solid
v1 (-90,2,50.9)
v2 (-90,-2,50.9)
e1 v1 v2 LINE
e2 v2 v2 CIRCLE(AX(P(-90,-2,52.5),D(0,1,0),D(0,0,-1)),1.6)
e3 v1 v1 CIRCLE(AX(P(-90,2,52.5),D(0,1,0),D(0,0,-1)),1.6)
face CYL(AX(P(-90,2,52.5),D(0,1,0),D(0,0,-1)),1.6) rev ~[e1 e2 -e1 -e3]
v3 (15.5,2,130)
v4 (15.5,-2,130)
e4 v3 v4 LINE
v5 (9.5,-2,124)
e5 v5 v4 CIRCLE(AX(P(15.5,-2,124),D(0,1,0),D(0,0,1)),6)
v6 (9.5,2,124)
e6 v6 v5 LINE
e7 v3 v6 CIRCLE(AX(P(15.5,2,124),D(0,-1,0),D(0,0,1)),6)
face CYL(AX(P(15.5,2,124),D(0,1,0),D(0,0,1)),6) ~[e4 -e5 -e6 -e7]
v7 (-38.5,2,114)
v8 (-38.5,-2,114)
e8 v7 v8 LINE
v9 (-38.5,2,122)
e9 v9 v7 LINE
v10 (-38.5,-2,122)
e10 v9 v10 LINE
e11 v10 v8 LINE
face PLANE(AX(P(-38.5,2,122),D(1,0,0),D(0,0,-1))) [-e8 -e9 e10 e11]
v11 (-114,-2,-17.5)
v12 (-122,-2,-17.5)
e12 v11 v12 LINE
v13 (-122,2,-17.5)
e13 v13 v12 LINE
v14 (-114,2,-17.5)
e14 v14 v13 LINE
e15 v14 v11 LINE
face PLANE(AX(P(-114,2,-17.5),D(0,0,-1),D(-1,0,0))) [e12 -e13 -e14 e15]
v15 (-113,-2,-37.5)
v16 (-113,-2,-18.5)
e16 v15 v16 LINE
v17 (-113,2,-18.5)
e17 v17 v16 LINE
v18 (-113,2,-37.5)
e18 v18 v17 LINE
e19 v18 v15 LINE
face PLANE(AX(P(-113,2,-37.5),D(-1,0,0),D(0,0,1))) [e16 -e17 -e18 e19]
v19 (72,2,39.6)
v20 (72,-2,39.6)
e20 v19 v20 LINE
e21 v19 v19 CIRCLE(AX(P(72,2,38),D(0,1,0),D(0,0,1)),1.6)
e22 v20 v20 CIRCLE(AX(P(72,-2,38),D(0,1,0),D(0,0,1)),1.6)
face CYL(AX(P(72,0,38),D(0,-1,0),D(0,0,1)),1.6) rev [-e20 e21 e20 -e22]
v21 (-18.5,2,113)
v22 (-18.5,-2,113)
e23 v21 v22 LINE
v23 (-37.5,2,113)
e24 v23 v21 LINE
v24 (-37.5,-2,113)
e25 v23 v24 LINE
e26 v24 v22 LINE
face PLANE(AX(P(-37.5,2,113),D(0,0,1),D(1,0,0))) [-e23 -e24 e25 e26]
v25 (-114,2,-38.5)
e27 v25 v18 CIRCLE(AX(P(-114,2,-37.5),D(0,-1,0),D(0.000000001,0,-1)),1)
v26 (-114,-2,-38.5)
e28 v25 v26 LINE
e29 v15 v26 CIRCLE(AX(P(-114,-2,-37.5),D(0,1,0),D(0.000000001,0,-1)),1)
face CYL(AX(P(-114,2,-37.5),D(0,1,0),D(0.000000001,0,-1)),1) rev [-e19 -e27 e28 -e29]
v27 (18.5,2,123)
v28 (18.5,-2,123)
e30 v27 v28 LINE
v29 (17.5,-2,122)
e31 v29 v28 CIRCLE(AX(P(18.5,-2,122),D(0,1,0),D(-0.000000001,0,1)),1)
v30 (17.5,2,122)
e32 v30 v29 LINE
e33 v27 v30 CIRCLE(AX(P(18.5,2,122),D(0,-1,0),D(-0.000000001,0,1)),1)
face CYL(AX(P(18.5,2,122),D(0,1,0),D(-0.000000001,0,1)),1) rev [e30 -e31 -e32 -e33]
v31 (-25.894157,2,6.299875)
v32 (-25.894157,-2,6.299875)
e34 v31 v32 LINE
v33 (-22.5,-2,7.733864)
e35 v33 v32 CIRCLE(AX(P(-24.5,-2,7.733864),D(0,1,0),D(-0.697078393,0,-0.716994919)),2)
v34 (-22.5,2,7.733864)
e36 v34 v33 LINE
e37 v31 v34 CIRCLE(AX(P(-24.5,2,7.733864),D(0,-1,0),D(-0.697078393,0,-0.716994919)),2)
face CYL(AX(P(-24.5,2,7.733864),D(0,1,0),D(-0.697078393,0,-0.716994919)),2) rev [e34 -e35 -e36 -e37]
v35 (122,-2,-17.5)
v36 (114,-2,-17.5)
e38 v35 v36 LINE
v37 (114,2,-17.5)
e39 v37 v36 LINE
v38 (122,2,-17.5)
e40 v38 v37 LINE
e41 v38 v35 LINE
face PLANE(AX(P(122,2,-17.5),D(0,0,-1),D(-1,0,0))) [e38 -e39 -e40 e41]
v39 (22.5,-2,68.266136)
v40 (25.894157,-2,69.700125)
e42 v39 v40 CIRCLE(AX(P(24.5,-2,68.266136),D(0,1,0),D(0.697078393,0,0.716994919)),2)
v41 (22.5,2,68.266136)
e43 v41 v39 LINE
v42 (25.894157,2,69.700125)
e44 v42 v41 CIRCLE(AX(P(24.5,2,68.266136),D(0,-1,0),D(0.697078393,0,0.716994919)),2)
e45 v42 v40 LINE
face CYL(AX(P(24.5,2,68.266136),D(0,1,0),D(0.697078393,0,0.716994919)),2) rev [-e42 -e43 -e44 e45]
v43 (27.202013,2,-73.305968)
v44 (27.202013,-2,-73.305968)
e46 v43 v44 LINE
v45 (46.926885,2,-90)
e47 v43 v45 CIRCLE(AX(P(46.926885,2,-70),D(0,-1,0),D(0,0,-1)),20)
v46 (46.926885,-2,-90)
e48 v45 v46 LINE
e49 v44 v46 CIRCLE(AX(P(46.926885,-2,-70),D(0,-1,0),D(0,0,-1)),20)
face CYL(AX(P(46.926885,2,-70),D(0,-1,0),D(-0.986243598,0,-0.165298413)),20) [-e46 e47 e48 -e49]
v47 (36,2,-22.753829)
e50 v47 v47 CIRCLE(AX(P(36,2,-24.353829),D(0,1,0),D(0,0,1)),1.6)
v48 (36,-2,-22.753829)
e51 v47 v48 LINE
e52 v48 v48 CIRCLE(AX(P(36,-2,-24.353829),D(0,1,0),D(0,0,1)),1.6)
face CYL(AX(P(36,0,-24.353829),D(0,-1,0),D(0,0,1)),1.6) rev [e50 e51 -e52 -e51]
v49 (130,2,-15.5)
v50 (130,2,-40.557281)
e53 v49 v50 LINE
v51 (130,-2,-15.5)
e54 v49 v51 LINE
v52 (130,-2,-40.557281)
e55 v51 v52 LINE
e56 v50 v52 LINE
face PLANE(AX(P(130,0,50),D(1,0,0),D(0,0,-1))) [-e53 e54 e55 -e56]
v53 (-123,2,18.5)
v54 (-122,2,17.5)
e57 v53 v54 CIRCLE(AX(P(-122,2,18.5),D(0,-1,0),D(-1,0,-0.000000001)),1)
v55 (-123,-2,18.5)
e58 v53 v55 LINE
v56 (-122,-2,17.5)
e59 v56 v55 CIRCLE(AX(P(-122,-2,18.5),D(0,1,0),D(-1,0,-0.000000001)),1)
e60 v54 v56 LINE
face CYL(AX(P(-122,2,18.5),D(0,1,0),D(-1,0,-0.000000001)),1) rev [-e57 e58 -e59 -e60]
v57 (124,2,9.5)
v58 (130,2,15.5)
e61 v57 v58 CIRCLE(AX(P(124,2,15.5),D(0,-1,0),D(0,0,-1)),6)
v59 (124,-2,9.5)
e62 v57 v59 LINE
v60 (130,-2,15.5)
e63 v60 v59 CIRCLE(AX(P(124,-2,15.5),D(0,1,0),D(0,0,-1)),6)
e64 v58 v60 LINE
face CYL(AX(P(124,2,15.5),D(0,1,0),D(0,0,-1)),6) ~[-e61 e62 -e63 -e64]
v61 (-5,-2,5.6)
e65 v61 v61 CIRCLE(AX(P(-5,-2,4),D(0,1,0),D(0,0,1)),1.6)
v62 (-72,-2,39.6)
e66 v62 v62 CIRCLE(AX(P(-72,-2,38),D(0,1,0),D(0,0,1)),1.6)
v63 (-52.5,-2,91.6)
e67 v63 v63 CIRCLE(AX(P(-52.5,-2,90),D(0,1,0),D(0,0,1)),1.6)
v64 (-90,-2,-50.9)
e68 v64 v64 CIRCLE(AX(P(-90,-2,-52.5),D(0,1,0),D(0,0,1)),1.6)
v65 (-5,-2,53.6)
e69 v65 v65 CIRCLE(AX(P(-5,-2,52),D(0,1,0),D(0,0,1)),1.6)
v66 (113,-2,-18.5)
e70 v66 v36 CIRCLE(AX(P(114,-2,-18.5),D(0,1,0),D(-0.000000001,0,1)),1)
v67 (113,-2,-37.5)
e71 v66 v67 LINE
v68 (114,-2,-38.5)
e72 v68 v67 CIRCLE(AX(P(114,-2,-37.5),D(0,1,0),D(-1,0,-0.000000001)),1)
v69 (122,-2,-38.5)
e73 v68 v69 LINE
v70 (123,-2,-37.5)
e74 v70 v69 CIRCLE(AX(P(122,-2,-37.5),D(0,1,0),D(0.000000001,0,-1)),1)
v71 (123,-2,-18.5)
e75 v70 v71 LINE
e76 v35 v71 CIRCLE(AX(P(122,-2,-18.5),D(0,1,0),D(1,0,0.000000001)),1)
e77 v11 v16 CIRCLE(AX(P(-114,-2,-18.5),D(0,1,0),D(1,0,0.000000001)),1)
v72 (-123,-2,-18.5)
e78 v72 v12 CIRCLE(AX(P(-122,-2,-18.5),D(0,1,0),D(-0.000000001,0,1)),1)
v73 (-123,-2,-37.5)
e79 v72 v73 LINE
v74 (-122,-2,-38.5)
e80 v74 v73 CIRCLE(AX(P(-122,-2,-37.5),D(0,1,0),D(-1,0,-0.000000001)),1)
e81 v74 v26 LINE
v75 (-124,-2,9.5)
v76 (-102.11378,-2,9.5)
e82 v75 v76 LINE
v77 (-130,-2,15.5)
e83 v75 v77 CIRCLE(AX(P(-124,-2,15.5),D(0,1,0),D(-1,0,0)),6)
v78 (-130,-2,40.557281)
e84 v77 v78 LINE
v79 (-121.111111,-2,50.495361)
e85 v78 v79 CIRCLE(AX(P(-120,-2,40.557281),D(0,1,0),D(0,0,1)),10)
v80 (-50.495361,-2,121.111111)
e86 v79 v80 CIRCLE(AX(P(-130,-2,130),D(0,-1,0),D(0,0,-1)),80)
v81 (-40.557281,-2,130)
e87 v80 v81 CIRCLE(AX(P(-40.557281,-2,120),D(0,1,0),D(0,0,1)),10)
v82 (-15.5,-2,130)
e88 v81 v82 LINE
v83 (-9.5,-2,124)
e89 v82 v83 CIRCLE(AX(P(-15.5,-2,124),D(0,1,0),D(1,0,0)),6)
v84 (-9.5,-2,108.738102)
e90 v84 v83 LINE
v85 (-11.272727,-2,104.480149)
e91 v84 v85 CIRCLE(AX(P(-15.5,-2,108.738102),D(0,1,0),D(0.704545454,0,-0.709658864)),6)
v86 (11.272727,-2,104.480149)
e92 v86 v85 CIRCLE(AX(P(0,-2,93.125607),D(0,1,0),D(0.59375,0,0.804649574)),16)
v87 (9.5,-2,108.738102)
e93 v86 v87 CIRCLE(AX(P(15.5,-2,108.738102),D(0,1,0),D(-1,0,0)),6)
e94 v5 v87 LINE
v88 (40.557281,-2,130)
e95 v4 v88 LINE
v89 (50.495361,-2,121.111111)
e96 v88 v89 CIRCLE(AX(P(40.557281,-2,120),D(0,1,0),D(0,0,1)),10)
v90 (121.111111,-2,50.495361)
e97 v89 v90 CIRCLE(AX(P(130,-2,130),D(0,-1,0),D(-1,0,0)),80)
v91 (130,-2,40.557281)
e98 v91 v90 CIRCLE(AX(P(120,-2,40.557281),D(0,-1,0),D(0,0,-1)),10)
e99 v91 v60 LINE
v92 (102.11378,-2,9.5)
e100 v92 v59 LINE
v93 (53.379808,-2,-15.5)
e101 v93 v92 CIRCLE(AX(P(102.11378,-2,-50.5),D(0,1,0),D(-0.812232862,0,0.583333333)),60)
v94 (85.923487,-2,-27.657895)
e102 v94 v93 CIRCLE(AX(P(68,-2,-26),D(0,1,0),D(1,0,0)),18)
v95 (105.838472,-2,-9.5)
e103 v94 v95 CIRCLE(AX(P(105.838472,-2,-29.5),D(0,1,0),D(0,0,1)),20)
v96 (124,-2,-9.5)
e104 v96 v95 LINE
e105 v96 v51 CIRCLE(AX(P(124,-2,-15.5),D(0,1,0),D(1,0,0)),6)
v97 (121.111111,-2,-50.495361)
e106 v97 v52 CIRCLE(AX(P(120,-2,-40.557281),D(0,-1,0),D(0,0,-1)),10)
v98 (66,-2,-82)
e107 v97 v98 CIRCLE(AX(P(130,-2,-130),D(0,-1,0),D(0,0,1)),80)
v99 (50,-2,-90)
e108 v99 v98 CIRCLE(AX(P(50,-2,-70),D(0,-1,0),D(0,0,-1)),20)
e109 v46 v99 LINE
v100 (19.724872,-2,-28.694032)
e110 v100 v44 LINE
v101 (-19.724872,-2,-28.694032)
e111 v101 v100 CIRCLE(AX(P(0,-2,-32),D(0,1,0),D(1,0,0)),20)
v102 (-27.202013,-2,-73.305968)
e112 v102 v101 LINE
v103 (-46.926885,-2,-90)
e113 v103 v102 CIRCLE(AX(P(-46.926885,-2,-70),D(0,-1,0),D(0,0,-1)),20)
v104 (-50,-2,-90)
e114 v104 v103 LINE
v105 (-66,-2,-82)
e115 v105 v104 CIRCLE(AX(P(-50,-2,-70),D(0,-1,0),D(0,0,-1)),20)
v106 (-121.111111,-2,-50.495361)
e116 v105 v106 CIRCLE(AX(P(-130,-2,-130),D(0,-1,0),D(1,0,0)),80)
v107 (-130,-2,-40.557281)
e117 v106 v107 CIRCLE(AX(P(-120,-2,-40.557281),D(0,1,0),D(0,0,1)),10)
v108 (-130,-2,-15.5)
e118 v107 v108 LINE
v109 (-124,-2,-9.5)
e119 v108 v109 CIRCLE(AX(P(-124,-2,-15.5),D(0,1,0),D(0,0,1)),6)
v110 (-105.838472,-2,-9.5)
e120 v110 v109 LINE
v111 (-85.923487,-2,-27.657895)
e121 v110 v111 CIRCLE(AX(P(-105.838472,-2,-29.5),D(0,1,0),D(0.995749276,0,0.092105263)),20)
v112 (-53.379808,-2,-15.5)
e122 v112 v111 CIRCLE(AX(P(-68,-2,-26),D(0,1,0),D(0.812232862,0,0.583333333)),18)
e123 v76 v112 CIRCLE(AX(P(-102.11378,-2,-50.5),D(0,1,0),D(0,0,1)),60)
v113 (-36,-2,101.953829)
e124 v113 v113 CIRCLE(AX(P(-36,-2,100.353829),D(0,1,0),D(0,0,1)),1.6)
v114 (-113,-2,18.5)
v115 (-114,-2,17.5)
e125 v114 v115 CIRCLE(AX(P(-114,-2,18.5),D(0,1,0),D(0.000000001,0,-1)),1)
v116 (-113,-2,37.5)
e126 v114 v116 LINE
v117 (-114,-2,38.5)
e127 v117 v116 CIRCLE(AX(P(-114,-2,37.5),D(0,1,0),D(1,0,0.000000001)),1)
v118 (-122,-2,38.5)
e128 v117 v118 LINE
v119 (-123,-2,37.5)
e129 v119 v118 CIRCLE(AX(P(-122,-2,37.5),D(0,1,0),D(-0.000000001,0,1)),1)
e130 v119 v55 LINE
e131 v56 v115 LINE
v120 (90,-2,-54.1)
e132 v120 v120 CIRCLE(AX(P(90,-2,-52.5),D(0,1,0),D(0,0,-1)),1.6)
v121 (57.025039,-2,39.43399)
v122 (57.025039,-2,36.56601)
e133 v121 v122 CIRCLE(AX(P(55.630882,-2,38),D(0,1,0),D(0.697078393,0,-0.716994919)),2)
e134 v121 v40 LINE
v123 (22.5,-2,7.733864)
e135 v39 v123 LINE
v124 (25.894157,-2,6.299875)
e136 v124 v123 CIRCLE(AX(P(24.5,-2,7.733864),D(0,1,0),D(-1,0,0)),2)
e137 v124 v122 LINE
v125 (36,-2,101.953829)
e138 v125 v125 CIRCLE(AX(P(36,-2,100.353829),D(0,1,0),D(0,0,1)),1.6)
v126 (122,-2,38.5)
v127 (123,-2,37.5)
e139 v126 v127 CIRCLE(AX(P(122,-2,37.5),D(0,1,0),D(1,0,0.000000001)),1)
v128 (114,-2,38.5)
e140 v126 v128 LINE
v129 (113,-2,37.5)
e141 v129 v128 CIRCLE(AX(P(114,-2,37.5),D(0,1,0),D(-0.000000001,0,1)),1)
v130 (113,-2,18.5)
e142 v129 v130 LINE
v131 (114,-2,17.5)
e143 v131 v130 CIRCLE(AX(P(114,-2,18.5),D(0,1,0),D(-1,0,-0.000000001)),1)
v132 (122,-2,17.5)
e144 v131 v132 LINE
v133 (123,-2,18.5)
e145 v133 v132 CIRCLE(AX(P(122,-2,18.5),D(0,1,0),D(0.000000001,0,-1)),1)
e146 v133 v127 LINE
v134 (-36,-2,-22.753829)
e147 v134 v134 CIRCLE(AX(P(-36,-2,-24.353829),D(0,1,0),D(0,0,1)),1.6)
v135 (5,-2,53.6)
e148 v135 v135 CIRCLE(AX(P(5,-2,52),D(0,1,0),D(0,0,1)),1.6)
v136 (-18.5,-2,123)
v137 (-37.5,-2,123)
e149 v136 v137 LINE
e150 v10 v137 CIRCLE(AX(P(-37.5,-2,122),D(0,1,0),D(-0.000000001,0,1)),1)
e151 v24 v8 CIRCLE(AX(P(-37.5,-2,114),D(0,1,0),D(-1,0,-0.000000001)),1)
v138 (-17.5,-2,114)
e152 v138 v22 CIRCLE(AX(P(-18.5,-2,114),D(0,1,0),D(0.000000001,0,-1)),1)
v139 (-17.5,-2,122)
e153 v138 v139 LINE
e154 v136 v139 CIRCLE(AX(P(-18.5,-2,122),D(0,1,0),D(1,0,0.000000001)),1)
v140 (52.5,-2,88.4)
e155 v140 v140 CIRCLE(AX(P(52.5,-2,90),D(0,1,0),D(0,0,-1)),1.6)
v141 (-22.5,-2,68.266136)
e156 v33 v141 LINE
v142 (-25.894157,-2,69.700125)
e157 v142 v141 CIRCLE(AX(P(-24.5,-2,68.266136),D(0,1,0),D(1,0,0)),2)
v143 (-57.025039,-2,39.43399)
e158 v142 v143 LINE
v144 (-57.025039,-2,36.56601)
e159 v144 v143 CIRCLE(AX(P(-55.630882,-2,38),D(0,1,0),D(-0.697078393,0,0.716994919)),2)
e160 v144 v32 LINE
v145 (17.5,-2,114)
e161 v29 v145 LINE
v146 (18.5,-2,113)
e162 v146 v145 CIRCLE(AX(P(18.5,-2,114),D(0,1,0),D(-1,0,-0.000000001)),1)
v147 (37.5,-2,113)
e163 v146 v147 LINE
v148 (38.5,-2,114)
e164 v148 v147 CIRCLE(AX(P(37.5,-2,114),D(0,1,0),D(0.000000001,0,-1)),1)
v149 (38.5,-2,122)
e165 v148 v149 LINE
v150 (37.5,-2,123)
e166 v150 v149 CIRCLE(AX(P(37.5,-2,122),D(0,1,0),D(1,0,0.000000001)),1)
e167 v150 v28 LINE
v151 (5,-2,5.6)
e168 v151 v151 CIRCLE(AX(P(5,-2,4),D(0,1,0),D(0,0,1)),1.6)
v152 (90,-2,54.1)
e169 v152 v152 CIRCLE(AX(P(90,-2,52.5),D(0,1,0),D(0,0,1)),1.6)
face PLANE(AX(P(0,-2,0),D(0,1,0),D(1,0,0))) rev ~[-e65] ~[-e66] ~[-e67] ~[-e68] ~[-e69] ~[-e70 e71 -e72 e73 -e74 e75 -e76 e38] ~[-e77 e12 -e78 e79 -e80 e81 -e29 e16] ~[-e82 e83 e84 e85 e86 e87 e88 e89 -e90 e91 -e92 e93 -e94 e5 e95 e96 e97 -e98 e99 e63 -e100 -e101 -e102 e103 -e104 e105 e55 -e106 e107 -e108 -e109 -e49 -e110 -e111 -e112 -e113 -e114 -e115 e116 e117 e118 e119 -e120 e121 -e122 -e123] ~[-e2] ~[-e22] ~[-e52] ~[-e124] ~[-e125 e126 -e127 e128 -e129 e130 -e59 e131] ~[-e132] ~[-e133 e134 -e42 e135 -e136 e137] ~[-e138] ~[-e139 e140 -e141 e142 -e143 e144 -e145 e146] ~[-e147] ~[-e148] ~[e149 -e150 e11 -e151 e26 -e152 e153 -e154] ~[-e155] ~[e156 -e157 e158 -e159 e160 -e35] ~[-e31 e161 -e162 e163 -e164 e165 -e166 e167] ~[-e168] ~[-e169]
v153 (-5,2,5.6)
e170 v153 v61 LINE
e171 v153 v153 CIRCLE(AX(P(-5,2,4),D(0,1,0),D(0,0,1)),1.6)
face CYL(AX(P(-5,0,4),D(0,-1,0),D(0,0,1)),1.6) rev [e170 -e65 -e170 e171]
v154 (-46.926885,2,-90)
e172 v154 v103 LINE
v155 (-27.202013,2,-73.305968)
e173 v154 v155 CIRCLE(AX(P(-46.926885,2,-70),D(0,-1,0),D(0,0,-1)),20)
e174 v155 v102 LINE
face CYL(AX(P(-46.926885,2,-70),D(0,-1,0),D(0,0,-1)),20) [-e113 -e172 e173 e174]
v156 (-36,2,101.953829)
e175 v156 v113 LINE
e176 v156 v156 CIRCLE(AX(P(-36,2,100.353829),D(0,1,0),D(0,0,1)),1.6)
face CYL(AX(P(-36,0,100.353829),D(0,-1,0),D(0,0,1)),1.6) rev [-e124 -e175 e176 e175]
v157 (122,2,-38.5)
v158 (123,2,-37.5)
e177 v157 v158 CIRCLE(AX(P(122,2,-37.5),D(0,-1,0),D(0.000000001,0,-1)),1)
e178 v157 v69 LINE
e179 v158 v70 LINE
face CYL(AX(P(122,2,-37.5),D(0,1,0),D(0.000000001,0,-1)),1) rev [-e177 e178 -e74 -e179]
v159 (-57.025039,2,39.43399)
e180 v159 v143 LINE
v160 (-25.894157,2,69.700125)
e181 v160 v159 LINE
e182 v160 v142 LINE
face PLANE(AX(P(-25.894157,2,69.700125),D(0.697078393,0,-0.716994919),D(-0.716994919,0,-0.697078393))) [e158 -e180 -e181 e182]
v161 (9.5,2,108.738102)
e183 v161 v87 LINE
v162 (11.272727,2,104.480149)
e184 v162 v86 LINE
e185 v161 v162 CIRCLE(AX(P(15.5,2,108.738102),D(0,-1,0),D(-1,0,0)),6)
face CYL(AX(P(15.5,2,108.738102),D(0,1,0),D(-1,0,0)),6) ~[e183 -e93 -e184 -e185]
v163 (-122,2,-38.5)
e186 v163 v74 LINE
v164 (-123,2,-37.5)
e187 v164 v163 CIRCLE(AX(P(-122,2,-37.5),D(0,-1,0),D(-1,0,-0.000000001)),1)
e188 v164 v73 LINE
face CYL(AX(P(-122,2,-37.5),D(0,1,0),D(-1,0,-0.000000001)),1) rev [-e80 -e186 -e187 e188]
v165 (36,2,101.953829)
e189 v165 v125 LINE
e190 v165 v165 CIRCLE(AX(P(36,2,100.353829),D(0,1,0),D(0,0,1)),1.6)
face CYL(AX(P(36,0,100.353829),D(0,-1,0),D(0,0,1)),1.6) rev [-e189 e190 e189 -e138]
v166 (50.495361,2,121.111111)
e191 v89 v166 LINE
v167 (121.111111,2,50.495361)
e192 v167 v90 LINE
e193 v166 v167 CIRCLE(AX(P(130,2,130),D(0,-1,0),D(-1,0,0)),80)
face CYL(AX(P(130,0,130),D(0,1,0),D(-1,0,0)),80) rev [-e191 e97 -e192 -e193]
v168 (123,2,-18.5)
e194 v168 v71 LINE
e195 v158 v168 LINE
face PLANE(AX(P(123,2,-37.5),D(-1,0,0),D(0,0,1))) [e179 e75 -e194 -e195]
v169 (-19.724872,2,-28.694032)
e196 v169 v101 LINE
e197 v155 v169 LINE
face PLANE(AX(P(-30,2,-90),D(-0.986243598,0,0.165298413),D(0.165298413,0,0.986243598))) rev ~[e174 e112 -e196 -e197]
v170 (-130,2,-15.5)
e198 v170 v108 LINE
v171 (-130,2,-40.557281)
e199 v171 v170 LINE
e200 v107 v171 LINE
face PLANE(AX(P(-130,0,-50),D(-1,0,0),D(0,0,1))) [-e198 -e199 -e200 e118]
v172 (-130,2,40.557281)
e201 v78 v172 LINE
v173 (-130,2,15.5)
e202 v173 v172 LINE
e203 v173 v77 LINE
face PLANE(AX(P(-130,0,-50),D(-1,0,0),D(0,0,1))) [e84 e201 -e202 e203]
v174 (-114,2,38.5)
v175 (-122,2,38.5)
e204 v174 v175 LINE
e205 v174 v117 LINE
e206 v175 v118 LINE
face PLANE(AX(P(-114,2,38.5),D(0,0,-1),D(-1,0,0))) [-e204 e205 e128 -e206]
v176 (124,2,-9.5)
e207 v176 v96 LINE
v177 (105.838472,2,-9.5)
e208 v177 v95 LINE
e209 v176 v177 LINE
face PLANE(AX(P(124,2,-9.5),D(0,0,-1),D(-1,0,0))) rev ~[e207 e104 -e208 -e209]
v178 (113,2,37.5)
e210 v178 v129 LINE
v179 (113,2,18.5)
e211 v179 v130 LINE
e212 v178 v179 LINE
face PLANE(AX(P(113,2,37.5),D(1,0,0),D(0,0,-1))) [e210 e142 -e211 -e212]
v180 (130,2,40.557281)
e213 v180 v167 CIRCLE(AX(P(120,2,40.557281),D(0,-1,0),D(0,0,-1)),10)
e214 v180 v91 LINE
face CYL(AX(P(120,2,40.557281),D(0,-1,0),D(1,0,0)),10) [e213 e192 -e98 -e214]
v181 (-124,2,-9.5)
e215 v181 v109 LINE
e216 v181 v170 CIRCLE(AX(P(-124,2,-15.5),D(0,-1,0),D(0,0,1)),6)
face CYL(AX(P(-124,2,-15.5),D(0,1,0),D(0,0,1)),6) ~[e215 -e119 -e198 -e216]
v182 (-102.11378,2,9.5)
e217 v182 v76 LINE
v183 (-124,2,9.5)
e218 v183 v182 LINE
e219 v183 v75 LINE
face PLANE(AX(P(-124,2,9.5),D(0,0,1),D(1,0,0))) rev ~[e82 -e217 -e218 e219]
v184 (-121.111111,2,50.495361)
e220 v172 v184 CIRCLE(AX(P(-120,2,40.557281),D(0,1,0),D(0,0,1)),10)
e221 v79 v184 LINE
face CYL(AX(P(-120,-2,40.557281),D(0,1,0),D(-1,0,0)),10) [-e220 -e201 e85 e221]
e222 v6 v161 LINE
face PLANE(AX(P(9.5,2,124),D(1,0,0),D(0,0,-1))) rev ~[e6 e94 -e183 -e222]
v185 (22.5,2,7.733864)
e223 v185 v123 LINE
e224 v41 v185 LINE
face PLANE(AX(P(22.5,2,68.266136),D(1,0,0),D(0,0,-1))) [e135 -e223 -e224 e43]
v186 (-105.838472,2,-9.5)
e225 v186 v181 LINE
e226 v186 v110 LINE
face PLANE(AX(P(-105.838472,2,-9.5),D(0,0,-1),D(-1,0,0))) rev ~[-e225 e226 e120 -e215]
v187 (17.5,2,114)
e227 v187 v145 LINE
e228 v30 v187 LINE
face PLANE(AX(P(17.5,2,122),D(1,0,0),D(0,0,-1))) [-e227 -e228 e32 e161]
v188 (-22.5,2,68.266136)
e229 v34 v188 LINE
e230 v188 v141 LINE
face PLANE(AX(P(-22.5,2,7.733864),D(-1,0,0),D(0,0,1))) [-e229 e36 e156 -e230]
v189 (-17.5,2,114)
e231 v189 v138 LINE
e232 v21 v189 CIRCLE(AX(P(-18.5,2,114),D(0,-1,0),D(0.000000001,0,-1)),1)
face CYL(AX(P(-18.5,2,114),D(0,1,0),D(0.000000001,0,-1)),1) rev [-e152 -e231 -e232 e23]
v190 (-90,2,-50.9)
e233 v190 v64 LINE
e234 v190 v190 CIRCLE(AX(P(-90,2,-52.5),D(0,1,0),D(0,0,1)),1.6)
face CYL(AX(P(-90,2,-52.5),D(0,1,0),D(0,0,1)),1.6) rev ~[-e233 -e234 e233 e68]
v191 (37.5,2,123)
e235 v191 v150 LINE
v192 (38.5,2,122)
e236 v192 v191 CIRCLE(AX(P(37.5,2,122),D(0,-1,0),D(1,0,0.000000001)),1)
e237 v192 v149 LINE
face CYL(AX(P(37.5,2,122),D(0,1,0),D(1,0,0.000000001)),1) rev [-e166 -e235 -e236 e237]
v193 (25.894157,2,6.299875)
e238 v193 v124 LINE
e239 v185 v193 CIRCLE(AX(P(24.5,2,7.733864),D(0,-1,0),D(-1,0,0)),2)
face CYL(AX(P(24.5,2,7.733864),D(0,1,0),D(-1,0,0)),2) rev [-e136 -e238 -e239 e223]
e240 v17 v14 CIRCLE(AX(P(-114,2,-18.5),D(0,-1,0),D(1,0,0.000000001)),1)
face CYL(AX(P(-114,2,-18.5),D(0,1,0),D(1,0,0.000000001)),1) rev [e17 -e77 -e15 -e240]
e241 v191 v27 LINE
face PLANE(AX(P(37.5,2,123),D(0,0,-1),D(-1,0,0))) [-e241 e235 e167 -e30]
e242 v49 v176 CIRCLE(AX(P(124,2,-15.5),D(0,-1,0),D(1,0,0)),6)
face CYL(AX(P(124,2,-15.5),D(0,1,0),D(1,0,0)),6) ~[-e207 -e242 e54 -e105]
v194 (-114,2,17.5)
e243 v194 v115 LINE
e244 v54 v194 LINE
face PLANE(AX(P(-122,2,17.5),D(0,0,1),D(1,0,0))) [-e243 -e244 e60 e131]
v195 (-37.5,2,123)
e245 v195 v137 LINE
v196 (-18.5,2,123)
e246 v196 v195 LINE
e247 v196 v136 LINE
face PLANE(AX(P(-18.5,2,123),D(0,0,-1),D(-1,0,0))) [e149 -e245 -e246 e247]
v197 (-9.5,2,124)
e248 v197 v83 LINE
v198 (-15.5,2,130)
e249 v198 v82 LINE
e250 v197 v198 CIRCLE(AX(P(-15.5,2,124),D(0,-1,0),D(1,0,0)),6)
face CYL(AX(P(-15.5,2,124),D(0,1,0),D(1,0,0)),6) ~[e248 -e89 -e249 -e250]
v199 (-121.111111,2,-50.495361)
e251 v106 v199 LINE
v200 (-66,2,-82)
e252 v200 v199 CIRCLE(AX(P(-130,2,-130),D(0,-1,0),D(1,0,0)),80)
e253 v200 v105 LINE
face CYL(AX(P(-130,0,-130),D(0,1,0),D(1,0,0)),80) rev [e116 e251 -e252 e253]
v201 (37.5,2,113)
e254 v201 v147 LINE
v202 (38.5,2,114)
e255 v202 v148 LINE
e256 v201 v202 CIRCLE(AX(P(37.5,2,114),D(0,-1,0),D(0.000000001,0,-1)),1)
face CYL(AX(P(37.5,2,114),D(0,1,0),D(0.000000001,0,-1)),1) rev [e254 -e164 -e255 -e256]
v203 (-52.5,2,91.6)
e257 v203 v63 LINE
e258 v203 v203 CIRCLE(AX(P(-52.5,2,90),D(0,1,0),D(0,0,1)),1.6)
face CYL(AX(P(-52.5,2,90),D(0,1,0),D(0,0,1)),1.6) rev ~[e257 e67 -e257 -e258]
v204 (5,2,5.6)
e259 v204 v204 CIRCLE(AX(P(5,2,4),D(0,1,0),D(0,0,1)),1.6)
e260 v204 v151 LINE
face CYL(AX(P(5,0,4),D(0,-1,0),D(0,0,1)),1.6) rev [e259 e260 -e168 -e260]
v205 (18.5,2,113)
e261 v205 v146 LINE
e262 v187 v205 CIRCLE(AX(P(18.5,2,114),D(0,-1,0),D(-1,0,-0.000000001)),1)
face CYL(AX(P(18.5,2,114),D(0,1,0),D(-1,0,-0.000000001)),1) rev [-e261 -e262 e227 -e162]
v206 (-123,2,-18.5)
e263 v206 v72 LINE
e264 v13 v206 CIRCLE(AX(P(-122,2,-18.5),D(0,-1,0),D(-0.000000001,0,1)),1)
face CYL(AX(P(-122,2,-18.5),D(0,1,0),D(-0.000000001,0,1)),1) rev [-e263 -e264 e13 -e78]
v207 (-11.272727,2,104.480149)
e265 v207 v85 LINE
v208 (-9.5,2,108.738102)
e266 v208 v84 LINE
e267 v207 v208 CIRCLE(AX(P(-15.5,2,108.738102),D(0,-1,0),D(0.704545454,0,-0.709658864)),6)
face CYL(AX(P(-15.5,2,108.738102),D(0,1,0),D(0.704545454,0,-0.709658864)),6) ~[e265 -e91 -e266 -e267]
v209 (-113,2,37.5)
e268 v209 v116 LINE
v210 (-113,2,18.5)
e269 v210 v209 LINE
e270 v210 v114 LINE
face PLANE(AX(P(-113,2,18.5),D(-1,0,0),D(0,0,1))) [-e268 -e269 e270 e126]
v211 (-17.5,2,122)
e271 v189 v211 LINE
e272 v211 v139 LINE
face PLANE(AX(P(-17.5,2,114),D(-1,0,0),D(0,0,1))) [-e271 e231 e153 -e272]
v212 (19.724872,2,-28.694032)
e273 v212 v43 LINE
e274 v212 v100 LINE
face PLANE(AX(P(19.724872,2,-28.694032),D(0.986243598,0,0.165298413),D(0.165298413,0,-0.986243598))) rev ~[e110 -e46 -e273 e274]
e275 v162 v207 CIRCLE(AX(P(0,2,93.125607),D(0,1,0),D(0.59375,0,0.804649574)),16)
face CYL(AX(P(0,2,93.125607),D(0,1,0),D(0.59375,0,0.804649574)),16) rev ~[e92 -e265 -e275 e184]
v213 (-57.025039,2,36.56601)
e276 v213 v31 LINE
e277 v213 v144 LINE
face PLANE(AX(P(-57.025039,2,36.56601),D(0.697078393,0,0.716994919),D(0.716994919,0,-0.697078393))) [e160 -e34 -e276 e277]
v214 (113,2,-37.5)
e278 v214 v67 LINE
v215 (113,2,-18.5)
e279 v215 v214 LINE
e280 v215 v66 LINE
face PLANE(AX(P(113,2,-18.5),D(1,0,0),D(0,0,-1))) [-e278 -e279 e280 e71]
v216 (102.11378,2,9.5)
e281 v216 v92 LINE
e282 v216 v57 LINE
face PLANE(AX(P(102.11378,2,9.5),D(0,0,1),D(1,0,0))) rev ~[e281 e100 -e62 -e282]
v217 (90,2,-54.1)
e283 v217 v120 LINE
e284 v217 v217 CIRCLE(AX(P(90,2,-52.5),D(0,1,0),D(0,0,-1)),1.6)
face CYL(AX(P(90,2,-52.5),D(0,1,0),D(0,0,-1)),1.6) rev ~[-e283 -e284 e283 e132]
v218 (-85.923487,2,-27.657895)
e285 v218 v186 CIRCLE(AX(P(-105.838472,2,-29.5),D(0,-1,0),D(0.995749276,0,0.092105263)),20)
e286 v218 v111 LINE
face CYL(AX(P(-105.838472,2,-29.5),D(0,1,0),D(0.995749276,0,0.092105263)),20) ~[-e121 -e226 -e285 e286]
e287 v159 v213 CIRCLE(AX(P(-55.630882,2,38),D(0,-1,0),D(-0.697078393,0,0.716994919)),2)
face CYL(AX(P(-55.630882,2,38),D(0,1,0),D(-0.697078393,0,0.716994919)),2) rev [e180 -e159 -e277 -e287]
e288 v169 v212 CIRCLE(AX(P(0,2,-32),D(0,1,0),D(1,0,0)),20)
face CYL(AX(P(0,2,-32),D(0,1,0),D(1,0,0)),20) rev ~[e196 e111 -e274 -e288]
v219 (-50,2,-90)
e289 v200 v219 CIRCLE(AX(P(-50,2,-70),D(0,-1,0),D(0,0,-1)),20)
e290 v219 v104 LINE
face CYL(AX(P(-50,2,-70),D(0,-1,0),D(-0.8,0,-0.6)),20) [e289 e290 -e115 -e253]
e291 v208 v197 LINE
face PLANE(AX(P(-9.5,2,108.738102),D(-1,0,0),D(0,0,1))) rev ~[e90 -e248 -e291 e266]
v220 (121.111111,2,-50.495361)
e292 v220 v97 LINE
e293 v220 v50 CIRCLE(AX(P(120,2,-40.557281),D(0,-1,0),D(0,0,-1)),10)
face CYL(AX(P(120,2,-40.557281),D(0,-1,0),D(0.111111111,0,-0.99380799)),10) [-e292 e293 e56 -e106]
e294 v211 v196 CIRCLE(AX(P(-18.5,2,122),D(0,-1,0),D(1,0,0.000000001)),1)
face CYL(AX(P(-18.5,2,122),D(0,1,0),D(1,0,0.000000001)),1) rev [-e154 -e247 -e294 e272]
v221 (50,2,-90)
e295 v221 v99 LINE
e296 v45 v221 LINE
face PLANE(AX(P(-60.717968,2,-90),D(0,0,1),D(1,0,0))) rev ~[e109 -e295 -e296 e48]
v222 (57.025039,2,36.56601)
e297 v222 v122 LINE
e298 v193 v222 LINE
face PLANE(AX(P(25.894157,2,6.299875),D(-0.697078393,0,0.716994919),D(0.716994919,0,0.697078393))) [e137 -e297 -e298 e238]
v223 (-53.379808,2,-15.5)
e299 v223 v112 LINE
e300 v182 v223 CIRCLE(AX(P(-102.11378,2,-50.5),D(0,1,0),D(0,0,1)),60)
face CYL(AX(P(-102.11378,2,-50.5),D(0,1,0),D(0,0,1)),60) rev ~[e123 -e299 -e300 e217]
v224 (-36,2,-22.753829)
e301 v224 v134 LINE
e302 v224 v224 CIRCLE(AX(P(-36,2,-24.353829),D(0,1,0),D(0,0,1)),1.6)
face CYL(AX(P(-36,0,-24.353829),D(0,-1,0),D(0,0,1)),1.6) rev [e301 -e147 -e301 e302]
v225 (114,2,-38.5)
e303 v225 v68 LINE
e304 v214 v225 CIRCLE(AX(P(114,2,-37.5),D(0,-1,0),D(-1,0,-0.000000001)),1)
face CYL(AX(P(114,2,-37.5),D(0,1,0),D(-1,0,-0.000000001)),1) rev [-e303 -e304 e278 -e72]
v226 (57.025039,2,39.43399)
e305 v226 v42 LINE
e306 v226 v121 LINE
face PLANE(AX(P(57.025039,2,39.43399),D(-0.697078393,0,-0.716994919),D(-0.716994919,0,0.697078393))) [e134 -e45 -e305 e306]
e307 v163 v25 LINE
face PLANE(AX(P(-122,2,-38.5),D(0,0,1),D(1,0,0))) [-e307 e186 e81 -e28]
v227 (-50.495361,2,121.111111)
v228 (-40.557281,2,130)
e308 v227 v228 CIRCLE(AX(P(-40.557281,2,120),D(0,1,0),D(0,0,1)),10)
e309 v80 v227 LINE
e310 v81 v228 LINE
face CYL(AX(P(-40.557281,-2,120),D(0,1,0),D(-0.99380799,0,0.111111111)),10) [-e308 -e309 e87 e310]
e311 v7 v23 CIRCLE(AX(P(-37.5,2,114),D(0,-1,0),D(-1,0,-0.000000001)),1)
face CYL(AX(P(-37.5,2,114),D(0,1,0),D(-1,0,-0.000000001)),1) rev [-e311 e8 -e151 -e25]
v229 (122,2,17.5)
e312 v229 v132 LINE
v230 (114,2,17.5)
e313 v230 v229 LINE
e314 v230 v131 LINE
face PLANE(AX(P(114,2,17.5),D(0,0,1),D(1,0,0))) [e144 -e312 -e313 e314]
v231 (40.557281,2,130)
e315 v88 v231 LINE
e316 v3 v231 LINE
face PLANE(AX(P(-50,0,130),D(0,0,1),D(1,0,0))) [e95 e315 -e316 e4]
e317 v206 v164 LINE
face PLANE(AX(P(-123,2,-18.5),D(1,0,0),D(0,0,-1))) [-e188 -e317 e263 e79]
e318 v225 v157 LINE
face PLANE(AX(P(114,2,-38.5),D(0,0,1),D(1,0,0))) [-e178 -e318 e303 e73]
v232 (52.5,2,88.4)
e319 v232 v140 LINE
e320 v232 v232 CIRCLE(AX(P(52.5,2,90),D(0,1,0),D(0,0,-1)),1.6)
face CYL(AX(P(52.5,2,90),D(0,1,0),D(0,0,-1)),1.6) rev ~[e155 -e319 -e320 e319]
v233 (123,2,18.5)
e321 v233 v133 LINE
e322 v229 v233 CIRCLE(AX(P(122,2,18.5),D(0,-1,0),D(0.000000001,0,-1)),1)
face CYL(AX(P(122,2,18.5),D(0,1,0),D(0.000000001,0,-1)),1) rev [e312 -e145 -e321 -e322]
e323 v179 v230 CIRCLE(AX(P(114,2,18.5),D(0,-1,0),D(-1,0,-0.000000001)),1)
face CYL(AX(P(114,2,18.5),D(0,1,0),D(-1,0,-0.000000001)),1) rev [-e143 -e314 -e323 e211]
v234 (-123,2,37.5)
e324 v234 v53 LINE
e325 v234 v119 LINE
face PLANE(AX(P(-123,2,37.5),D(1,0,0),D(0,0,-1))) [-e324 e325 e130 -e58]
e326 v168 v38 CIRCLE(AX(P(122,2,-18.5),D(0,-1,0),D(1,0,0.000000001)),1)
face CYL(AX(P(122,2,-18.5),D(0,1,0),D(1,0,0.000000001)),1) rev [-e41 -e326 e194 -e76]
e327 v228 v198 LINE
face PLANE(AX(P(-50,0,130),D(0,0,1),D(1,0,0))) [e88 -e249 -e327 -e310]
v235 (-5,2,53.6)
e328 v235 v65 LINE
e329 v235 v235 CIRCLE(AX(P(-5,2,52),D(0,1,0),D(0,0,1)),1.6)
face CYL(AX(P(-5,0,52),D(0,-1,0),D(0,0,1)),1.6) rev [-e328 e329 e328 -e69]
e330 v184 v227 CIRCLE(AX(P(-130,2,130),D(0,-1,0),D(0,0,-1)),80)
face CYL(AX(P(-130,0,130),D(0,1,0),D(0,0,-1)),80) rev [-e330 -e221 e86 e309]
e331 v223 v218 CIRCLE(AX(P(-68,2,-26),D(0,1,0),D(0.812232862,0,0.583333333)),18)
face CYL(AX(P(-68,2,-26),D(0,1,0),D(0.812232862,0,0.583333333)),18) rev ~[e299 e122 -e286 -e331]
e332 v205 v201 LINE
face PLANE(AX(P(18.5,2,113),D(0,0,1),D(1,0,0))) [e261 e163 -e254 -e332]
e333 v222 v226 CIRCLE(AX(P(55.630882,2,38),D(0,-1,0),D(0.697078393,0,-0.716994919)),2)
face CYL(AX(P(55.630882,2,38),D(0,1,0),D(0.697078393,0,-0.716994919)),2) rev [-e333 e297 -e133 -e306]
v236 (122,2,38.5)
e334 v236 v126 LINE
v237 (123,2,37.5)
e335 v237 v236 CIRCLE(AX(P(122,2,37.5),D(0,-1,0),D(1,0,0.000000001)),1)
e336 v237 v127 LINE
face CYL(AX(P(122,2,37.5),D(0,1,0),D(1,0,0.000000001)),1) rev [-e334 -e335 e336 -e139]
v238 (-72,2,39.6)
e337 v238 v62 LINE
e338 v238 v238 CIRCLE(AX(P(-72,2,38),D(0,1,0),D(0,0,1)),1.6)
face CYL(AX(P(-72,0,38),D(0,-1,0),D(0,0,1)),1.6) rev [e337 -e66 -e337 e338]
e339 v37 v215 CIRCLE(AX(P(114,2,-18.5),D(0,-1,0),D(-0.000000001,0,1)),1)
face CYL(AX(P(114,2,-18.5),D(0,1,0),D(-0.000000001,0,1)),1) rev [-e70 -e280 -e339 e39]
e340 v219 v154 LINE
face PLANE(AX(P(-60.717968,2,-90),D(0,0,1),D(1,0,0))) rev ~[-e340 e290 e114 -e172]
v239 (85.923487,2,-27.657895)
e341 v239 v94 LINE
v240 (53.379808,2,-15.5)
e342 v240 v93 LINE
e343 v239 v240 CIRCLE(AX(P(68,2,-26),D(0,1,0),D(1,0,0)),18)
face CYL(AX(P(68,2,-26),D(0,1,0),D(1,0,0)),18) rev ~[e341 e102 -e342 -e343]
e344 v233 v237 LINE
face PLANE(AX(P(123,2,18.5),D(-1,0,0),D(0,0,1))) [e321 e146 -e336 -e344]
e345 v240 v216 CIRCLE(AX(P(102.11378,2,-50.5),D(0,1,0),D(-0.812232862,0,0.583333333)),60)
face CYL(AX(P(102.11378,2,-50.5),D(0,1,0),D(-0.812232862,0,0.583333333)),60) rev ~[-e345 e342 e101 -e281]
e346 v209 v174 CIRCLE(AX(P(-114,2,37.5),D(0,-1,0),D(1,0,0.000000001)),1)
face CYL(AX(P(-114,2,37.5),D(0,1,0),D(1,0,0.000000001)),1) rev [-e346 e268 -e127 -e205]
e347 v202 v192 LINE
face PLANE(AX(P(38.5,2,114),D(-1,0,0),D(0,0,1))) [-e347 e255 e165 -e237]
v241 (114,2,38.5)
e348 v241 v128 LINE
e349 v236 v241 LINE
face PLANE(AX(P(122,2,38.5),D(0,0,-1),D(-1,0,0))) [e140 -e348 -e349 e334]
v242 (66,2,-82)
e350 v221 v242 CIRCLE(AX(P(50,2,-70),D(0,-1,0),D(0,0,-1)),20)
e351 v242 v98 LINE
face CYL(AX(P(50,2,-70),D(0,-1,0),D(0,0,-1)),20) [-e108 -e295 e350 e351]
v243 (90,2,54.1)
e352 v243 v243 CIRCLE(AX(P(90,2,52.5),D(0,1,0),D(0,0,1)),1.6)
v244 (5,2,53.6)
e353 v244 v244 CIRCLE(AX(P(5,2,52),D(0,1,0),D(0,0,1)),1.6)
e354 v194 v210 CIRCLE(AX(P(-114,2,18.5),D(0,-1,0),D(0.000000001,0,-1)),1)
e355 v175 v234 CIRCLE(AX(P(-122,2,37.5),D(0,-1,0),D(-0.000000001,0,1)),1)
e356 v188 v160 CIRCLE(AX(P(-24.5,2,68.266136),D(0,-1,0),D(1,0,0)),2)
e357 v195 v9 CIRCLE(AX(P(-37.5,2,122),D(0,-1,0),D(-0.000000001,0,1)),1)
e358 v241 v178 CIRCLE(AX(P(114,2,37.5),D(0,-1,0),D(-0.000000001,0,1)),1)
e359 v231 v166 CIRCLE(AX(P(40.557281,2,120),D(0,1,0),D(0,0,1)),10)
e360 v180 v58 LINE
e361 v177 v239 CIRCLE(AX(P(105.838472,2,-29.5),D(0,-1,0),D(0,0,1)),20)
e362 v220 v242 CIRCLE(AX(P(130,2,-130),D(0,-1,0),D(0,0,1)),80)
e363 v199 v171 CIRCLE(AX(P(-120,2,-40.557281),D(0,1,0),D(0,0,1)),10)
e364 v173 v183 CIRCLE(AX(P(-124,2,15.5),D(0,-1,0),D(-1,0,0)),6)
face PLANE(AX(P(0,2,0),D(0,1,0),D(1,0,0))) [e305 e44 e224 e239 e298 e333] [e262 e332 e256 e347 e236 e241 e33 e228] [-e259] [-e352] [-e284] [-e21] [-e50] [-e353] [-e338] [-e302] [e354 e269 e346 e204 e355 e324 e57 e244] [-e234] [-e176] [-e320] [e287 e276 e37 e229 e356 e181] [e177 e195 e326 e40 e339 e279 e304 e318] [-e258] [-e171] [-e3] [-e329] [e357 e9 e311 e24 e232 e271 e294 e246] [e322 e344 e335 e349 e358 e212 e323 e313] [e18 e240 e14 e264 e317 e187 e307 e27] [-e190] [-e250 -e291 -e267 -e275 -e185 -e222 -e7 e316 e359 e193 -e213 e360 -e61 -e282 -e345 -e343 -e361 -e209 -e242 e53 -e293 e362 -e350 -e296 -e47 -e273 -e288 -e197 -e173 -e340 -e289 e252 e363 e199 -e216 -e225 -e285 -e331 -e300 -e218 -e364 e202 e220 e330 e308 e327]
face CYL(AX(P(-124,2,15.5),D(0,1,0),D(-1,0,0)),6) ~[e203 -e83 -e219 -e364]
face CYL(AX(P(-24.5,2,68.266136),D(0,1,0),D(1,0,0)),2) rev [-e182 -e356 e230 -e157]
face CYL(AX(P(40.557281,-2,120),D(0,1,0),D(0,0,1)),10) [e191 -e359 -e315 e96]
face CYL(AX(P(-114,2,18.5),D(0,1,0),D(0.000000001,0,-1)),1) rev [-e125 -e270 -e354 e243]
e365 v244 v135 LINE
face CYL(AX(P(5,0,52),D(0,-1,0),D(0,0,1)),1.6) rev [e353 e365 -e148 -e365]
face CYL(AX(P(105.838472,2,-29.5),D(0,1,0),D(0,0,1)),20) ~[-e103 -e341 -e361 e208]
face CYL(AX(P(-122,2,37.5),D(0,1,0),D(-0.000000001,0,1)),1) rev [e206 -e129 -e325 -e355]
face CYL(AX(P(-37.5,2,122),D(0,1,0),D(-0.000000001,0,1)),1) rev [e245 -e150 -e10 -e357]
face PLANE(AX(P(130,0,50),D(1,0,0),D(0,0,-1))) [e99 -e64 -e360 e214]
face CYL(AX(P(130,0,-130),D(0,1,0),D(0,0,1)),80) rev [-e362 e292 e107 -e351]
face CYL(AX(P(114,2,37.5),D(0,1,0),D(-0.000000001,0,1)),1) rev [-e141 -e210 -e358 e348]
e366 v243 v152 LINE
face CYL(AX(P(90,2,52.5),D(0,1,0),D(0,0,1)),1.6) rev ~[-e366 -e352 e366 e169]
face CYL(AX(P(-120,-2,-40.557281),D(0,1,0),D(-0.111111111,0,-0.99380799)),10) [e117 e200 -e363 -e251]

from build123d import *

# Parameters (mm, degrees)
SKETCH_1_R          = 1.6
EXTRUDE_1_DEPTH     = 2
SKETCH_2_R          = 1.6
CUT_EXTRUDE_1_DEPTH = 184.891272224
FILLET_1_R          = 10
CUT_EXTRUDE_2_DEPTH = 184.891272224
SKETCH_4_R          = 20
CUT_EXTRUDE_3_DEPTH = 184.891272224
FILLET_3_R          = 20
SKETCH_5_R          = 16
SKETCH_5_R_2        = 18
CUT_EXTRUDE_4_DEPTH = 184.891272224


with BuildPart() as part:
    # 草图1 → 凸台-拉伸1 (new, symmetric)
    with BuildSketch(Plane(origin=(0, 0, 0), x_dir=(1, 0, 0), z_dir=(0, 1, 0))):
        with BuildLine():
            ThreePointArc((-50, 130), (-73.431457505, 73.431457505), (-130, 50))
            Line((-130, 50), (-130, -50))
            ThreePointArc((-130, -50), (-73.431457505, -73.431457505), (-50, -130))
            Line((-50, -130), (50, -130))
            ThreePointArc((50, -130), (73.431457505, -73.431457505), (130, -50))
            Line((130, -50), (130, 50))
            ThreePointArc((130, 50), (73.431457505, 73.431457505), (50, 130))
            Line((50, 130), (-50, 130))
        make_face()
        with Locations(Location((-36, -100.353829072, 0), (0, 0, 270))):
            Circle(SKETCH_1_R, mode=Mode.SUBTRACT)
        with Locations(Location((-72, -38, 0), (0, 0, 270))):
            Circle(SKETCH_1_R, mode=Mode.SUBTRACT)
        with Locations(Location((-5, -52, 0), (0, 0, 270))):
            Circle(SKETCH_1_R, mode=Mode.SUBTRACT)
        with Locations(Location((-5, -4, 0), (0, 0, 270))):
            Circle(SKETCH_1_R, mode=Mode.SUBTRACT)
        with Locations(Location((36, -100.353829072, 0), (0, 0, 270))):
            Circle(SKETCH_1_R, mode=Mode.SUBTRACT)
        with Locations(Location((5, -52, 0), (0, 0, 270))):
            Circle(SKETCH_1_R, mode=Mode.SUBTRACT)
        with Locations(Location((5, -4, 0), (0, 0, 270))):
            Circle(SKETCH_1_R, mode=Mode.SUBTRACT)
        with Locations(Location((72, -38, 0), (0, 0, 270))):
            Circle(SKETCH_1_R, mode=Mode.SUBTRACT)
        with Locations(Location((-36, 24.353829072, 0), (0, 0, 270))):
            Circle(SKETCH_1_R, mode=Mode.SUBTRACT)
        with Locations(Location((36, 24.353829072, 0), (0, 0, 270))):
            Circle(SKETCH_1_R, mode=Mode.SUBTRACT)
    extrude(amount=EXTRUDE_1_DEPTH, both=True)

    # 草图2 → 切除-拉伸1 (cut, through all)
    with BuildSketch(Plane(origin=(0, 2, 0), x_dir=(1, 0, 0), z_dir=(0, 1, 0))):
        with Locations(Location((-52.5, -90, 0), (0, 0, 270))):
            Circle(SKETCH_2_R)
        with Locations(Location((52.5, -90, 0), (0, 0, 90))):
            Circle(SKETCH_2_R)
        with Locations(Location((-90, 52.5, 0), (0, 0, 270))):
            Circle(SKETCH_2_R)
        with Locations(Location((-90, -52.5, 0), (0, 0, 90))):
            Circle(SKETCH_2_R)
        with Locations(Location((90, -52.5, 0), (0, 0, 270))):
            Circle(SKETCH_2_R)
        with Locations(Location((90, 52.5, 0), (0, 0, 90))):
            Circle(SKETCH_2_R)
    extrude(amount=-CUT_EXTRUDE_1_DEPTH, mode=Mode.SUBTRACT)

    # 圆角1
    fillet_1_edges = [part.edges().sort_by_distance(p)[0] for p in [
        (50, 0, 130),
        (-50, 0, 130),
        (-130, 0, 50),
        (-130, 0, -50),
        (-50, 0, -130),
        (50, 0, -130),
        (130, 0, -50),
        (130, 0, 50),
    ]]
    fillet(fillet_1_edges, radius=FILLET_1_R)

    # 草图3 → 切除-拉伸2 (cut, through all)
    with BuildSketch(Plane(origin=(0, 2, 0), x_dir=(1, 0, 0), z_dir=(0, 1, 0))):
        with BuildLine():
            ThreePointArc((-50.4953608, 121.111111111), (-53.997738765, 105.026888717), (-60.717967697, 90))
            Line((-60.717967697, 90), (60.717967697, 90))
            ThreePointArc((60.717967697, 90), (53.997738765, 105.026888717), (50.4953608, 121.111111111))
            ThreePointArc((50.4953608, 121.111111111), (47.223947567, 127.453559925), (40.5572809, 130))
            Line((40.5572809, 130), (-40.5572809, 130))
            ThreePointArc((-40.5572809, 130), (-47.223947567, 127.453559925), (-50.4953608, 121.111111111))
        make_face()
    extrude(amount=-CUT_EXTRUDE_2_DEPTH, mode=Mode.SUBTRACT)

    # 草图4 → 切除-拉伸3 (cut, through all)
    with BuildSketch(Plane(origin=(0, 2, 0), x_dir=(1, 0, 0), z_dir=(0, 1, 0))):
        with BuildLine():
            Line((-30, 90), (-19.724871961, 28.694031744))
            ThreePointArc((-19.724871961, 28.694031744), (-1.658698401, 51.931099308), (20, 32))
            ThreePointArc((20, 32), (19.931099308, 30.341301599), (19.724871961, 28.694031744))
            Line((19.724871961, 28.694031744), (30, 90))
            Line((30, 90), (-30, 90))
        make_face()
        with Locations((0, 32)):
            Circle(SKETCH_4_R)
        with BuildLine():
            ThreePointArc((-25.894156787, -6.299874654), (-23.721640691, -5.891540745), (-22.5, -7.733864491))
            Line((-22.5, -7.733864491), (-22.5, -68.266135509))
            ThreePointArc((-22.5, -68.266135509), (-23.721640691, -70.108459255), (-25.894156787, -69.700125346))
            Line((-25.894156787, -69.700125346), (-57.025039024, -39.433989838))
            ThreePointArc((-57.025039024, -39.433989838), (-57.630882238, -38), (-57.025039024, -36.566010162))
            Line((-57.025039024, -36.566010162), (-25.894156787, -6.299874654))
        make_face()
        with BuildLine():
            ThreePointArc((22.5, -7.733864491), (23.721640691, -5.891540745), (25.894156787, -6.299874654))
            Line((25.894156787, -6.299874654), (57.025039024, -36.566010162))
            ThreePointArc((57.025039024, -36.566010162), (57.630882238, -38), (57.025039024, -39.433989838))
            Line((57.025039024, -39.433989838), (25.894156787, -69.700125346))
            ThreePointArc((25.894156787, -69.700125346), (23.721640691, -70.108459255), (22.5, -68.266135509))
            Line((22.5, -68.266135509), (22.5, -7.733864491))
        make_face()
    extrude(amount=-CUT_EXTRUDE_3_DEPTH, mode=Mode.SUBTRACT)

    # 圆角3
    fillet_3_edges = [part.edges().sort_by_distance(p)[0] for p in [
        (60.717967697, 0, -90),
        (-60.717967697, 0, -90),
        (-30, 0, -90),
        (30, 0, -90),
    ]]
    fillet(fillet_3_edges, radius=FILLET_3_R)

    # 草图5 → 切除-拉伸4 (cut, through all)
    with BuildSketch(Plane(origin=(0, 2, 0), x_dir=(1, 0, 0), z_dir=(0, 1, 0))):
        with BuildLine():
            Line((-37.5, -113), (-18.5, -113))
            ThreePointArc((-18.5, -113), (-17.792893219, -113.292893219), (-17.5, -114))
            Line((-17.5, -114), (-17.5, -122))
            ThreePointArc((-17.5, -122), (-17.792893219, -122.707106781), (-18.5, -123))
            Line((-18.5, -123), (-37.5, -123))
            ThreePointArc((-37.5, -123), (-38.207106781, -122.707106781), (-38.5, -122))
            Line((-38.5, -122), (-38.5, -114))
            ThreePointArc((-38.5, -114), (-38.207106781, -113.292893219), (-37.5, -113))
        make_face()
        with BuildLine():
            Line((-9.5, -108.738101806), (-9.5, -124))
            ThreePointArc((-9.5, -124), (-11.257359313, -128.242640687), (-15.5, -130))
            Line((-15.5, -130), (15.5, -130))
            ThreePointArc((15.5, -130), (11.257359313, -128.242640687), (9.5, -124))
            Line((9.5, -124), (9.5, -108.738101806))
            Line((9.5, -108.738101806), (9.5, -106))
            ThreePointArc((9.5, -106), (0, -109.12560681), (-9.5, -106))
            Line((-9.5, -106), (-9.5, -108.738101806))
        make_face()
        with Locations((0, -93.12560681)):
            Circle(SKETCH_5_R)
        with BuildLine():
            ThreePointArc((17.5, -114), (17.792893219, -113.292893219), (18.5, -113))
            Line((18.5, -113), (37.5, -113))
            ThreePointArc((37.5, -113), (38.207106781, -113.292893219), (38.5, -114))
            Line((38.5, -114), (38.5, -122))
            ThreePointArc((38.5, -122), (38.207106781, -122.707106781), (37.5, -123))
            Line((37.5, -123), (18.5, -123))
            ThreePointArc((18.5, -123), (17.792893219, -122.707106781), (17.5, -122))
            Line((17.5, -122), (17.5, -114))
        make_face()
        with BuildLine():
            ThreePointArc((-11.272727273, -104.480148626), (-9.960882906, -106.431983462), (-9.5, -108.738101806))
            Line((-9.5, -108.738101806), (-9.5, -106))
            ThreePointArc((-9.5, -106), (-10.414126782, -105.272456746), (-11.272727273, -104.480148626))
        make_face()
        with BuildLine():
            ThreePointArc((11.272727273, -104.480148626), (10.414126782, -105.272456746), (9.5, -106))
            Line((9.5, -106), (9.5, -108.738101806))
            ThreePointArc((9.5, -108.738101806), (9.960882906, -106.431983462), (11.272727273, -104.480148626))
        make_face()
        with BuildLine():
            Line((-113, 37.5), (-113, 18.5))
            ThreePointArc((-113, 18.5), (-113.292893219, 17.792893219), (-114, 17.5))
            Line((-114, 17.5), (-122, 17.5))
            ThreePointArc((-122, 17.5), (-122.707106781, 17.792893219), (-123, 18.5))
            Line((-123, 18.5), (-123, 37.5))
            ThreePointArc((-123, 37.5), (-122.707106781, 38.207106781), (-122, 38.5))
            Line((-122, 38.5), (-114, 38.5))
            ThreePointArc((-114, 38.5), (-113.292893219, 38.207106781), (-113, 37.5))
        make_face()
        with BuildLine():
            ThreePointArc((-114, -17.5), (-113.292893219, -17.792893219), (-113, -18.5))
            Line((-113, -18.5), (-113, -37.5))
            ThreePointArc((-113, -37.5), (-113.292893219, -38.207106781), (-114, -38.5))
            Line((-114, -38.5), (-122, -38.5))
            ThreePointArc((-122, -38.5), (-122.707106781, -38.207106781), (-123, -37.5))
            Line((-123, -37.5), (-123, -18.5))
            ThreePointArc((-123, -18.5), (-122.707106781, -17.792893219), (-122, -17.5))
            Line((-122, -17.5), (-114, -17.5))
        make_face()
        with BuildLine():
            ThreePointArc((114, 17.5), (113.292893219, 17.792893219), (113, 18.5))
            Line((113, 18.5), (113, 37.5))
            ThreePointArc((113, 37.5), (113.292893219, 38.207106781), (114, 38.5))
            Line((114, 38.5), (122, 38.5))
            ThreePointArc((122, 38.5), (122.707106781, 38.207106781), (123, 37.5))
            Line((123, 37.5), (123, 18.5))
            ThreePointArc((123, 18.5), (122.707106781, 17.792893219), (122, 17.5))
            Line((122, 17.5), (114, 17.5))
        make_face()
        with BuildLine():
            Line((113, -37.5), (113, -18.5))
            ThreePointArc((113, -18.5), (113.292893219, -17.792893219), (114, -17.5))
            Line((114, -17.5), (122, -17.5))
            ThreePointArc((122, -17.5), (122.707106781, -17.792893219), (123, -18.5))
            Line((123, -18.5), (123, -37.5))
            ThreePointArc((123, -37.5), (122.707106781, -38.207106781), (122, -38.5))
            Line((122, -38.5), (114, -38.5))
            ThreePointArc((114, -38.5), (113.292893219, -38.207106781), (113, -37.5))
        make_face()
        with BuildLine():
            Line((-105.838472485, 9.5), (-124, 9.5))
            ThreePointArc((-124, 9.5), (-128.242640687, 11.257359313), (-130, 15.5))
            Line((-130, 15.5), (-130, -15.5))
            ThreePointArc((-130, -15.5), (-128.242640687, -11.257359313), (-124, -9.5))
            Line((-124, -9.5), (-102.113780207, -9.5))
            ThreePointArc((-102.113780207, -9.5), (-74.727652332, -2.88539126), (-53.379808483, 15.5))
            ThreePointArc((-53.379808483, 15.5), (-74.29932864, 9.138254578), (-85.923486967, 27.657894737))
            ThreePointArc((-85.923486967, 27.657894737), (-92.363349207, 14.720925177), (-105.838472485, 9.5))
        make_face()
        with Locations((-68, 26)):
            Circle(SKETCH_5_R_2)
        with Locations((68, 26)):
            Circle(SKETCH_5_R_2)
        with BuildLine():
            ThreePointArc((130, 15.5), (128.242640687, 11.257359313), (124, 9.5))
            Line((124, 9.5), (105.838472485, 9.5))
            ThreePointArc((105.838472485, 9.5), (92.363349207, 14.720925177), (85.923486967, 27.657894737))
            ThreePointArc((85.923486967, 27.657894737), (85.980861567, 26.829829682), (86, 26))
            ThreePointArc((86, 26), (73.515276634, 8.865773328), (53.379808483, 15.5))
            ThreePointArc((53.379808483, 15.5), (74.727652332, -2.88539126), (102.113780207, -9.5))
            Line((102.113780207, -9.5), (124, -9.5))
            ThreePointArc((124, -9.5), (128.242640687, -11.257359313), (130, -15.5))
            Line((130, -15.5), (130, 15.5))
        make_face()
    extrude(amount=-CUT_EXTRUDE_4_DEPTH, mode=Mode.SUBTRACT)


solid = part.part
